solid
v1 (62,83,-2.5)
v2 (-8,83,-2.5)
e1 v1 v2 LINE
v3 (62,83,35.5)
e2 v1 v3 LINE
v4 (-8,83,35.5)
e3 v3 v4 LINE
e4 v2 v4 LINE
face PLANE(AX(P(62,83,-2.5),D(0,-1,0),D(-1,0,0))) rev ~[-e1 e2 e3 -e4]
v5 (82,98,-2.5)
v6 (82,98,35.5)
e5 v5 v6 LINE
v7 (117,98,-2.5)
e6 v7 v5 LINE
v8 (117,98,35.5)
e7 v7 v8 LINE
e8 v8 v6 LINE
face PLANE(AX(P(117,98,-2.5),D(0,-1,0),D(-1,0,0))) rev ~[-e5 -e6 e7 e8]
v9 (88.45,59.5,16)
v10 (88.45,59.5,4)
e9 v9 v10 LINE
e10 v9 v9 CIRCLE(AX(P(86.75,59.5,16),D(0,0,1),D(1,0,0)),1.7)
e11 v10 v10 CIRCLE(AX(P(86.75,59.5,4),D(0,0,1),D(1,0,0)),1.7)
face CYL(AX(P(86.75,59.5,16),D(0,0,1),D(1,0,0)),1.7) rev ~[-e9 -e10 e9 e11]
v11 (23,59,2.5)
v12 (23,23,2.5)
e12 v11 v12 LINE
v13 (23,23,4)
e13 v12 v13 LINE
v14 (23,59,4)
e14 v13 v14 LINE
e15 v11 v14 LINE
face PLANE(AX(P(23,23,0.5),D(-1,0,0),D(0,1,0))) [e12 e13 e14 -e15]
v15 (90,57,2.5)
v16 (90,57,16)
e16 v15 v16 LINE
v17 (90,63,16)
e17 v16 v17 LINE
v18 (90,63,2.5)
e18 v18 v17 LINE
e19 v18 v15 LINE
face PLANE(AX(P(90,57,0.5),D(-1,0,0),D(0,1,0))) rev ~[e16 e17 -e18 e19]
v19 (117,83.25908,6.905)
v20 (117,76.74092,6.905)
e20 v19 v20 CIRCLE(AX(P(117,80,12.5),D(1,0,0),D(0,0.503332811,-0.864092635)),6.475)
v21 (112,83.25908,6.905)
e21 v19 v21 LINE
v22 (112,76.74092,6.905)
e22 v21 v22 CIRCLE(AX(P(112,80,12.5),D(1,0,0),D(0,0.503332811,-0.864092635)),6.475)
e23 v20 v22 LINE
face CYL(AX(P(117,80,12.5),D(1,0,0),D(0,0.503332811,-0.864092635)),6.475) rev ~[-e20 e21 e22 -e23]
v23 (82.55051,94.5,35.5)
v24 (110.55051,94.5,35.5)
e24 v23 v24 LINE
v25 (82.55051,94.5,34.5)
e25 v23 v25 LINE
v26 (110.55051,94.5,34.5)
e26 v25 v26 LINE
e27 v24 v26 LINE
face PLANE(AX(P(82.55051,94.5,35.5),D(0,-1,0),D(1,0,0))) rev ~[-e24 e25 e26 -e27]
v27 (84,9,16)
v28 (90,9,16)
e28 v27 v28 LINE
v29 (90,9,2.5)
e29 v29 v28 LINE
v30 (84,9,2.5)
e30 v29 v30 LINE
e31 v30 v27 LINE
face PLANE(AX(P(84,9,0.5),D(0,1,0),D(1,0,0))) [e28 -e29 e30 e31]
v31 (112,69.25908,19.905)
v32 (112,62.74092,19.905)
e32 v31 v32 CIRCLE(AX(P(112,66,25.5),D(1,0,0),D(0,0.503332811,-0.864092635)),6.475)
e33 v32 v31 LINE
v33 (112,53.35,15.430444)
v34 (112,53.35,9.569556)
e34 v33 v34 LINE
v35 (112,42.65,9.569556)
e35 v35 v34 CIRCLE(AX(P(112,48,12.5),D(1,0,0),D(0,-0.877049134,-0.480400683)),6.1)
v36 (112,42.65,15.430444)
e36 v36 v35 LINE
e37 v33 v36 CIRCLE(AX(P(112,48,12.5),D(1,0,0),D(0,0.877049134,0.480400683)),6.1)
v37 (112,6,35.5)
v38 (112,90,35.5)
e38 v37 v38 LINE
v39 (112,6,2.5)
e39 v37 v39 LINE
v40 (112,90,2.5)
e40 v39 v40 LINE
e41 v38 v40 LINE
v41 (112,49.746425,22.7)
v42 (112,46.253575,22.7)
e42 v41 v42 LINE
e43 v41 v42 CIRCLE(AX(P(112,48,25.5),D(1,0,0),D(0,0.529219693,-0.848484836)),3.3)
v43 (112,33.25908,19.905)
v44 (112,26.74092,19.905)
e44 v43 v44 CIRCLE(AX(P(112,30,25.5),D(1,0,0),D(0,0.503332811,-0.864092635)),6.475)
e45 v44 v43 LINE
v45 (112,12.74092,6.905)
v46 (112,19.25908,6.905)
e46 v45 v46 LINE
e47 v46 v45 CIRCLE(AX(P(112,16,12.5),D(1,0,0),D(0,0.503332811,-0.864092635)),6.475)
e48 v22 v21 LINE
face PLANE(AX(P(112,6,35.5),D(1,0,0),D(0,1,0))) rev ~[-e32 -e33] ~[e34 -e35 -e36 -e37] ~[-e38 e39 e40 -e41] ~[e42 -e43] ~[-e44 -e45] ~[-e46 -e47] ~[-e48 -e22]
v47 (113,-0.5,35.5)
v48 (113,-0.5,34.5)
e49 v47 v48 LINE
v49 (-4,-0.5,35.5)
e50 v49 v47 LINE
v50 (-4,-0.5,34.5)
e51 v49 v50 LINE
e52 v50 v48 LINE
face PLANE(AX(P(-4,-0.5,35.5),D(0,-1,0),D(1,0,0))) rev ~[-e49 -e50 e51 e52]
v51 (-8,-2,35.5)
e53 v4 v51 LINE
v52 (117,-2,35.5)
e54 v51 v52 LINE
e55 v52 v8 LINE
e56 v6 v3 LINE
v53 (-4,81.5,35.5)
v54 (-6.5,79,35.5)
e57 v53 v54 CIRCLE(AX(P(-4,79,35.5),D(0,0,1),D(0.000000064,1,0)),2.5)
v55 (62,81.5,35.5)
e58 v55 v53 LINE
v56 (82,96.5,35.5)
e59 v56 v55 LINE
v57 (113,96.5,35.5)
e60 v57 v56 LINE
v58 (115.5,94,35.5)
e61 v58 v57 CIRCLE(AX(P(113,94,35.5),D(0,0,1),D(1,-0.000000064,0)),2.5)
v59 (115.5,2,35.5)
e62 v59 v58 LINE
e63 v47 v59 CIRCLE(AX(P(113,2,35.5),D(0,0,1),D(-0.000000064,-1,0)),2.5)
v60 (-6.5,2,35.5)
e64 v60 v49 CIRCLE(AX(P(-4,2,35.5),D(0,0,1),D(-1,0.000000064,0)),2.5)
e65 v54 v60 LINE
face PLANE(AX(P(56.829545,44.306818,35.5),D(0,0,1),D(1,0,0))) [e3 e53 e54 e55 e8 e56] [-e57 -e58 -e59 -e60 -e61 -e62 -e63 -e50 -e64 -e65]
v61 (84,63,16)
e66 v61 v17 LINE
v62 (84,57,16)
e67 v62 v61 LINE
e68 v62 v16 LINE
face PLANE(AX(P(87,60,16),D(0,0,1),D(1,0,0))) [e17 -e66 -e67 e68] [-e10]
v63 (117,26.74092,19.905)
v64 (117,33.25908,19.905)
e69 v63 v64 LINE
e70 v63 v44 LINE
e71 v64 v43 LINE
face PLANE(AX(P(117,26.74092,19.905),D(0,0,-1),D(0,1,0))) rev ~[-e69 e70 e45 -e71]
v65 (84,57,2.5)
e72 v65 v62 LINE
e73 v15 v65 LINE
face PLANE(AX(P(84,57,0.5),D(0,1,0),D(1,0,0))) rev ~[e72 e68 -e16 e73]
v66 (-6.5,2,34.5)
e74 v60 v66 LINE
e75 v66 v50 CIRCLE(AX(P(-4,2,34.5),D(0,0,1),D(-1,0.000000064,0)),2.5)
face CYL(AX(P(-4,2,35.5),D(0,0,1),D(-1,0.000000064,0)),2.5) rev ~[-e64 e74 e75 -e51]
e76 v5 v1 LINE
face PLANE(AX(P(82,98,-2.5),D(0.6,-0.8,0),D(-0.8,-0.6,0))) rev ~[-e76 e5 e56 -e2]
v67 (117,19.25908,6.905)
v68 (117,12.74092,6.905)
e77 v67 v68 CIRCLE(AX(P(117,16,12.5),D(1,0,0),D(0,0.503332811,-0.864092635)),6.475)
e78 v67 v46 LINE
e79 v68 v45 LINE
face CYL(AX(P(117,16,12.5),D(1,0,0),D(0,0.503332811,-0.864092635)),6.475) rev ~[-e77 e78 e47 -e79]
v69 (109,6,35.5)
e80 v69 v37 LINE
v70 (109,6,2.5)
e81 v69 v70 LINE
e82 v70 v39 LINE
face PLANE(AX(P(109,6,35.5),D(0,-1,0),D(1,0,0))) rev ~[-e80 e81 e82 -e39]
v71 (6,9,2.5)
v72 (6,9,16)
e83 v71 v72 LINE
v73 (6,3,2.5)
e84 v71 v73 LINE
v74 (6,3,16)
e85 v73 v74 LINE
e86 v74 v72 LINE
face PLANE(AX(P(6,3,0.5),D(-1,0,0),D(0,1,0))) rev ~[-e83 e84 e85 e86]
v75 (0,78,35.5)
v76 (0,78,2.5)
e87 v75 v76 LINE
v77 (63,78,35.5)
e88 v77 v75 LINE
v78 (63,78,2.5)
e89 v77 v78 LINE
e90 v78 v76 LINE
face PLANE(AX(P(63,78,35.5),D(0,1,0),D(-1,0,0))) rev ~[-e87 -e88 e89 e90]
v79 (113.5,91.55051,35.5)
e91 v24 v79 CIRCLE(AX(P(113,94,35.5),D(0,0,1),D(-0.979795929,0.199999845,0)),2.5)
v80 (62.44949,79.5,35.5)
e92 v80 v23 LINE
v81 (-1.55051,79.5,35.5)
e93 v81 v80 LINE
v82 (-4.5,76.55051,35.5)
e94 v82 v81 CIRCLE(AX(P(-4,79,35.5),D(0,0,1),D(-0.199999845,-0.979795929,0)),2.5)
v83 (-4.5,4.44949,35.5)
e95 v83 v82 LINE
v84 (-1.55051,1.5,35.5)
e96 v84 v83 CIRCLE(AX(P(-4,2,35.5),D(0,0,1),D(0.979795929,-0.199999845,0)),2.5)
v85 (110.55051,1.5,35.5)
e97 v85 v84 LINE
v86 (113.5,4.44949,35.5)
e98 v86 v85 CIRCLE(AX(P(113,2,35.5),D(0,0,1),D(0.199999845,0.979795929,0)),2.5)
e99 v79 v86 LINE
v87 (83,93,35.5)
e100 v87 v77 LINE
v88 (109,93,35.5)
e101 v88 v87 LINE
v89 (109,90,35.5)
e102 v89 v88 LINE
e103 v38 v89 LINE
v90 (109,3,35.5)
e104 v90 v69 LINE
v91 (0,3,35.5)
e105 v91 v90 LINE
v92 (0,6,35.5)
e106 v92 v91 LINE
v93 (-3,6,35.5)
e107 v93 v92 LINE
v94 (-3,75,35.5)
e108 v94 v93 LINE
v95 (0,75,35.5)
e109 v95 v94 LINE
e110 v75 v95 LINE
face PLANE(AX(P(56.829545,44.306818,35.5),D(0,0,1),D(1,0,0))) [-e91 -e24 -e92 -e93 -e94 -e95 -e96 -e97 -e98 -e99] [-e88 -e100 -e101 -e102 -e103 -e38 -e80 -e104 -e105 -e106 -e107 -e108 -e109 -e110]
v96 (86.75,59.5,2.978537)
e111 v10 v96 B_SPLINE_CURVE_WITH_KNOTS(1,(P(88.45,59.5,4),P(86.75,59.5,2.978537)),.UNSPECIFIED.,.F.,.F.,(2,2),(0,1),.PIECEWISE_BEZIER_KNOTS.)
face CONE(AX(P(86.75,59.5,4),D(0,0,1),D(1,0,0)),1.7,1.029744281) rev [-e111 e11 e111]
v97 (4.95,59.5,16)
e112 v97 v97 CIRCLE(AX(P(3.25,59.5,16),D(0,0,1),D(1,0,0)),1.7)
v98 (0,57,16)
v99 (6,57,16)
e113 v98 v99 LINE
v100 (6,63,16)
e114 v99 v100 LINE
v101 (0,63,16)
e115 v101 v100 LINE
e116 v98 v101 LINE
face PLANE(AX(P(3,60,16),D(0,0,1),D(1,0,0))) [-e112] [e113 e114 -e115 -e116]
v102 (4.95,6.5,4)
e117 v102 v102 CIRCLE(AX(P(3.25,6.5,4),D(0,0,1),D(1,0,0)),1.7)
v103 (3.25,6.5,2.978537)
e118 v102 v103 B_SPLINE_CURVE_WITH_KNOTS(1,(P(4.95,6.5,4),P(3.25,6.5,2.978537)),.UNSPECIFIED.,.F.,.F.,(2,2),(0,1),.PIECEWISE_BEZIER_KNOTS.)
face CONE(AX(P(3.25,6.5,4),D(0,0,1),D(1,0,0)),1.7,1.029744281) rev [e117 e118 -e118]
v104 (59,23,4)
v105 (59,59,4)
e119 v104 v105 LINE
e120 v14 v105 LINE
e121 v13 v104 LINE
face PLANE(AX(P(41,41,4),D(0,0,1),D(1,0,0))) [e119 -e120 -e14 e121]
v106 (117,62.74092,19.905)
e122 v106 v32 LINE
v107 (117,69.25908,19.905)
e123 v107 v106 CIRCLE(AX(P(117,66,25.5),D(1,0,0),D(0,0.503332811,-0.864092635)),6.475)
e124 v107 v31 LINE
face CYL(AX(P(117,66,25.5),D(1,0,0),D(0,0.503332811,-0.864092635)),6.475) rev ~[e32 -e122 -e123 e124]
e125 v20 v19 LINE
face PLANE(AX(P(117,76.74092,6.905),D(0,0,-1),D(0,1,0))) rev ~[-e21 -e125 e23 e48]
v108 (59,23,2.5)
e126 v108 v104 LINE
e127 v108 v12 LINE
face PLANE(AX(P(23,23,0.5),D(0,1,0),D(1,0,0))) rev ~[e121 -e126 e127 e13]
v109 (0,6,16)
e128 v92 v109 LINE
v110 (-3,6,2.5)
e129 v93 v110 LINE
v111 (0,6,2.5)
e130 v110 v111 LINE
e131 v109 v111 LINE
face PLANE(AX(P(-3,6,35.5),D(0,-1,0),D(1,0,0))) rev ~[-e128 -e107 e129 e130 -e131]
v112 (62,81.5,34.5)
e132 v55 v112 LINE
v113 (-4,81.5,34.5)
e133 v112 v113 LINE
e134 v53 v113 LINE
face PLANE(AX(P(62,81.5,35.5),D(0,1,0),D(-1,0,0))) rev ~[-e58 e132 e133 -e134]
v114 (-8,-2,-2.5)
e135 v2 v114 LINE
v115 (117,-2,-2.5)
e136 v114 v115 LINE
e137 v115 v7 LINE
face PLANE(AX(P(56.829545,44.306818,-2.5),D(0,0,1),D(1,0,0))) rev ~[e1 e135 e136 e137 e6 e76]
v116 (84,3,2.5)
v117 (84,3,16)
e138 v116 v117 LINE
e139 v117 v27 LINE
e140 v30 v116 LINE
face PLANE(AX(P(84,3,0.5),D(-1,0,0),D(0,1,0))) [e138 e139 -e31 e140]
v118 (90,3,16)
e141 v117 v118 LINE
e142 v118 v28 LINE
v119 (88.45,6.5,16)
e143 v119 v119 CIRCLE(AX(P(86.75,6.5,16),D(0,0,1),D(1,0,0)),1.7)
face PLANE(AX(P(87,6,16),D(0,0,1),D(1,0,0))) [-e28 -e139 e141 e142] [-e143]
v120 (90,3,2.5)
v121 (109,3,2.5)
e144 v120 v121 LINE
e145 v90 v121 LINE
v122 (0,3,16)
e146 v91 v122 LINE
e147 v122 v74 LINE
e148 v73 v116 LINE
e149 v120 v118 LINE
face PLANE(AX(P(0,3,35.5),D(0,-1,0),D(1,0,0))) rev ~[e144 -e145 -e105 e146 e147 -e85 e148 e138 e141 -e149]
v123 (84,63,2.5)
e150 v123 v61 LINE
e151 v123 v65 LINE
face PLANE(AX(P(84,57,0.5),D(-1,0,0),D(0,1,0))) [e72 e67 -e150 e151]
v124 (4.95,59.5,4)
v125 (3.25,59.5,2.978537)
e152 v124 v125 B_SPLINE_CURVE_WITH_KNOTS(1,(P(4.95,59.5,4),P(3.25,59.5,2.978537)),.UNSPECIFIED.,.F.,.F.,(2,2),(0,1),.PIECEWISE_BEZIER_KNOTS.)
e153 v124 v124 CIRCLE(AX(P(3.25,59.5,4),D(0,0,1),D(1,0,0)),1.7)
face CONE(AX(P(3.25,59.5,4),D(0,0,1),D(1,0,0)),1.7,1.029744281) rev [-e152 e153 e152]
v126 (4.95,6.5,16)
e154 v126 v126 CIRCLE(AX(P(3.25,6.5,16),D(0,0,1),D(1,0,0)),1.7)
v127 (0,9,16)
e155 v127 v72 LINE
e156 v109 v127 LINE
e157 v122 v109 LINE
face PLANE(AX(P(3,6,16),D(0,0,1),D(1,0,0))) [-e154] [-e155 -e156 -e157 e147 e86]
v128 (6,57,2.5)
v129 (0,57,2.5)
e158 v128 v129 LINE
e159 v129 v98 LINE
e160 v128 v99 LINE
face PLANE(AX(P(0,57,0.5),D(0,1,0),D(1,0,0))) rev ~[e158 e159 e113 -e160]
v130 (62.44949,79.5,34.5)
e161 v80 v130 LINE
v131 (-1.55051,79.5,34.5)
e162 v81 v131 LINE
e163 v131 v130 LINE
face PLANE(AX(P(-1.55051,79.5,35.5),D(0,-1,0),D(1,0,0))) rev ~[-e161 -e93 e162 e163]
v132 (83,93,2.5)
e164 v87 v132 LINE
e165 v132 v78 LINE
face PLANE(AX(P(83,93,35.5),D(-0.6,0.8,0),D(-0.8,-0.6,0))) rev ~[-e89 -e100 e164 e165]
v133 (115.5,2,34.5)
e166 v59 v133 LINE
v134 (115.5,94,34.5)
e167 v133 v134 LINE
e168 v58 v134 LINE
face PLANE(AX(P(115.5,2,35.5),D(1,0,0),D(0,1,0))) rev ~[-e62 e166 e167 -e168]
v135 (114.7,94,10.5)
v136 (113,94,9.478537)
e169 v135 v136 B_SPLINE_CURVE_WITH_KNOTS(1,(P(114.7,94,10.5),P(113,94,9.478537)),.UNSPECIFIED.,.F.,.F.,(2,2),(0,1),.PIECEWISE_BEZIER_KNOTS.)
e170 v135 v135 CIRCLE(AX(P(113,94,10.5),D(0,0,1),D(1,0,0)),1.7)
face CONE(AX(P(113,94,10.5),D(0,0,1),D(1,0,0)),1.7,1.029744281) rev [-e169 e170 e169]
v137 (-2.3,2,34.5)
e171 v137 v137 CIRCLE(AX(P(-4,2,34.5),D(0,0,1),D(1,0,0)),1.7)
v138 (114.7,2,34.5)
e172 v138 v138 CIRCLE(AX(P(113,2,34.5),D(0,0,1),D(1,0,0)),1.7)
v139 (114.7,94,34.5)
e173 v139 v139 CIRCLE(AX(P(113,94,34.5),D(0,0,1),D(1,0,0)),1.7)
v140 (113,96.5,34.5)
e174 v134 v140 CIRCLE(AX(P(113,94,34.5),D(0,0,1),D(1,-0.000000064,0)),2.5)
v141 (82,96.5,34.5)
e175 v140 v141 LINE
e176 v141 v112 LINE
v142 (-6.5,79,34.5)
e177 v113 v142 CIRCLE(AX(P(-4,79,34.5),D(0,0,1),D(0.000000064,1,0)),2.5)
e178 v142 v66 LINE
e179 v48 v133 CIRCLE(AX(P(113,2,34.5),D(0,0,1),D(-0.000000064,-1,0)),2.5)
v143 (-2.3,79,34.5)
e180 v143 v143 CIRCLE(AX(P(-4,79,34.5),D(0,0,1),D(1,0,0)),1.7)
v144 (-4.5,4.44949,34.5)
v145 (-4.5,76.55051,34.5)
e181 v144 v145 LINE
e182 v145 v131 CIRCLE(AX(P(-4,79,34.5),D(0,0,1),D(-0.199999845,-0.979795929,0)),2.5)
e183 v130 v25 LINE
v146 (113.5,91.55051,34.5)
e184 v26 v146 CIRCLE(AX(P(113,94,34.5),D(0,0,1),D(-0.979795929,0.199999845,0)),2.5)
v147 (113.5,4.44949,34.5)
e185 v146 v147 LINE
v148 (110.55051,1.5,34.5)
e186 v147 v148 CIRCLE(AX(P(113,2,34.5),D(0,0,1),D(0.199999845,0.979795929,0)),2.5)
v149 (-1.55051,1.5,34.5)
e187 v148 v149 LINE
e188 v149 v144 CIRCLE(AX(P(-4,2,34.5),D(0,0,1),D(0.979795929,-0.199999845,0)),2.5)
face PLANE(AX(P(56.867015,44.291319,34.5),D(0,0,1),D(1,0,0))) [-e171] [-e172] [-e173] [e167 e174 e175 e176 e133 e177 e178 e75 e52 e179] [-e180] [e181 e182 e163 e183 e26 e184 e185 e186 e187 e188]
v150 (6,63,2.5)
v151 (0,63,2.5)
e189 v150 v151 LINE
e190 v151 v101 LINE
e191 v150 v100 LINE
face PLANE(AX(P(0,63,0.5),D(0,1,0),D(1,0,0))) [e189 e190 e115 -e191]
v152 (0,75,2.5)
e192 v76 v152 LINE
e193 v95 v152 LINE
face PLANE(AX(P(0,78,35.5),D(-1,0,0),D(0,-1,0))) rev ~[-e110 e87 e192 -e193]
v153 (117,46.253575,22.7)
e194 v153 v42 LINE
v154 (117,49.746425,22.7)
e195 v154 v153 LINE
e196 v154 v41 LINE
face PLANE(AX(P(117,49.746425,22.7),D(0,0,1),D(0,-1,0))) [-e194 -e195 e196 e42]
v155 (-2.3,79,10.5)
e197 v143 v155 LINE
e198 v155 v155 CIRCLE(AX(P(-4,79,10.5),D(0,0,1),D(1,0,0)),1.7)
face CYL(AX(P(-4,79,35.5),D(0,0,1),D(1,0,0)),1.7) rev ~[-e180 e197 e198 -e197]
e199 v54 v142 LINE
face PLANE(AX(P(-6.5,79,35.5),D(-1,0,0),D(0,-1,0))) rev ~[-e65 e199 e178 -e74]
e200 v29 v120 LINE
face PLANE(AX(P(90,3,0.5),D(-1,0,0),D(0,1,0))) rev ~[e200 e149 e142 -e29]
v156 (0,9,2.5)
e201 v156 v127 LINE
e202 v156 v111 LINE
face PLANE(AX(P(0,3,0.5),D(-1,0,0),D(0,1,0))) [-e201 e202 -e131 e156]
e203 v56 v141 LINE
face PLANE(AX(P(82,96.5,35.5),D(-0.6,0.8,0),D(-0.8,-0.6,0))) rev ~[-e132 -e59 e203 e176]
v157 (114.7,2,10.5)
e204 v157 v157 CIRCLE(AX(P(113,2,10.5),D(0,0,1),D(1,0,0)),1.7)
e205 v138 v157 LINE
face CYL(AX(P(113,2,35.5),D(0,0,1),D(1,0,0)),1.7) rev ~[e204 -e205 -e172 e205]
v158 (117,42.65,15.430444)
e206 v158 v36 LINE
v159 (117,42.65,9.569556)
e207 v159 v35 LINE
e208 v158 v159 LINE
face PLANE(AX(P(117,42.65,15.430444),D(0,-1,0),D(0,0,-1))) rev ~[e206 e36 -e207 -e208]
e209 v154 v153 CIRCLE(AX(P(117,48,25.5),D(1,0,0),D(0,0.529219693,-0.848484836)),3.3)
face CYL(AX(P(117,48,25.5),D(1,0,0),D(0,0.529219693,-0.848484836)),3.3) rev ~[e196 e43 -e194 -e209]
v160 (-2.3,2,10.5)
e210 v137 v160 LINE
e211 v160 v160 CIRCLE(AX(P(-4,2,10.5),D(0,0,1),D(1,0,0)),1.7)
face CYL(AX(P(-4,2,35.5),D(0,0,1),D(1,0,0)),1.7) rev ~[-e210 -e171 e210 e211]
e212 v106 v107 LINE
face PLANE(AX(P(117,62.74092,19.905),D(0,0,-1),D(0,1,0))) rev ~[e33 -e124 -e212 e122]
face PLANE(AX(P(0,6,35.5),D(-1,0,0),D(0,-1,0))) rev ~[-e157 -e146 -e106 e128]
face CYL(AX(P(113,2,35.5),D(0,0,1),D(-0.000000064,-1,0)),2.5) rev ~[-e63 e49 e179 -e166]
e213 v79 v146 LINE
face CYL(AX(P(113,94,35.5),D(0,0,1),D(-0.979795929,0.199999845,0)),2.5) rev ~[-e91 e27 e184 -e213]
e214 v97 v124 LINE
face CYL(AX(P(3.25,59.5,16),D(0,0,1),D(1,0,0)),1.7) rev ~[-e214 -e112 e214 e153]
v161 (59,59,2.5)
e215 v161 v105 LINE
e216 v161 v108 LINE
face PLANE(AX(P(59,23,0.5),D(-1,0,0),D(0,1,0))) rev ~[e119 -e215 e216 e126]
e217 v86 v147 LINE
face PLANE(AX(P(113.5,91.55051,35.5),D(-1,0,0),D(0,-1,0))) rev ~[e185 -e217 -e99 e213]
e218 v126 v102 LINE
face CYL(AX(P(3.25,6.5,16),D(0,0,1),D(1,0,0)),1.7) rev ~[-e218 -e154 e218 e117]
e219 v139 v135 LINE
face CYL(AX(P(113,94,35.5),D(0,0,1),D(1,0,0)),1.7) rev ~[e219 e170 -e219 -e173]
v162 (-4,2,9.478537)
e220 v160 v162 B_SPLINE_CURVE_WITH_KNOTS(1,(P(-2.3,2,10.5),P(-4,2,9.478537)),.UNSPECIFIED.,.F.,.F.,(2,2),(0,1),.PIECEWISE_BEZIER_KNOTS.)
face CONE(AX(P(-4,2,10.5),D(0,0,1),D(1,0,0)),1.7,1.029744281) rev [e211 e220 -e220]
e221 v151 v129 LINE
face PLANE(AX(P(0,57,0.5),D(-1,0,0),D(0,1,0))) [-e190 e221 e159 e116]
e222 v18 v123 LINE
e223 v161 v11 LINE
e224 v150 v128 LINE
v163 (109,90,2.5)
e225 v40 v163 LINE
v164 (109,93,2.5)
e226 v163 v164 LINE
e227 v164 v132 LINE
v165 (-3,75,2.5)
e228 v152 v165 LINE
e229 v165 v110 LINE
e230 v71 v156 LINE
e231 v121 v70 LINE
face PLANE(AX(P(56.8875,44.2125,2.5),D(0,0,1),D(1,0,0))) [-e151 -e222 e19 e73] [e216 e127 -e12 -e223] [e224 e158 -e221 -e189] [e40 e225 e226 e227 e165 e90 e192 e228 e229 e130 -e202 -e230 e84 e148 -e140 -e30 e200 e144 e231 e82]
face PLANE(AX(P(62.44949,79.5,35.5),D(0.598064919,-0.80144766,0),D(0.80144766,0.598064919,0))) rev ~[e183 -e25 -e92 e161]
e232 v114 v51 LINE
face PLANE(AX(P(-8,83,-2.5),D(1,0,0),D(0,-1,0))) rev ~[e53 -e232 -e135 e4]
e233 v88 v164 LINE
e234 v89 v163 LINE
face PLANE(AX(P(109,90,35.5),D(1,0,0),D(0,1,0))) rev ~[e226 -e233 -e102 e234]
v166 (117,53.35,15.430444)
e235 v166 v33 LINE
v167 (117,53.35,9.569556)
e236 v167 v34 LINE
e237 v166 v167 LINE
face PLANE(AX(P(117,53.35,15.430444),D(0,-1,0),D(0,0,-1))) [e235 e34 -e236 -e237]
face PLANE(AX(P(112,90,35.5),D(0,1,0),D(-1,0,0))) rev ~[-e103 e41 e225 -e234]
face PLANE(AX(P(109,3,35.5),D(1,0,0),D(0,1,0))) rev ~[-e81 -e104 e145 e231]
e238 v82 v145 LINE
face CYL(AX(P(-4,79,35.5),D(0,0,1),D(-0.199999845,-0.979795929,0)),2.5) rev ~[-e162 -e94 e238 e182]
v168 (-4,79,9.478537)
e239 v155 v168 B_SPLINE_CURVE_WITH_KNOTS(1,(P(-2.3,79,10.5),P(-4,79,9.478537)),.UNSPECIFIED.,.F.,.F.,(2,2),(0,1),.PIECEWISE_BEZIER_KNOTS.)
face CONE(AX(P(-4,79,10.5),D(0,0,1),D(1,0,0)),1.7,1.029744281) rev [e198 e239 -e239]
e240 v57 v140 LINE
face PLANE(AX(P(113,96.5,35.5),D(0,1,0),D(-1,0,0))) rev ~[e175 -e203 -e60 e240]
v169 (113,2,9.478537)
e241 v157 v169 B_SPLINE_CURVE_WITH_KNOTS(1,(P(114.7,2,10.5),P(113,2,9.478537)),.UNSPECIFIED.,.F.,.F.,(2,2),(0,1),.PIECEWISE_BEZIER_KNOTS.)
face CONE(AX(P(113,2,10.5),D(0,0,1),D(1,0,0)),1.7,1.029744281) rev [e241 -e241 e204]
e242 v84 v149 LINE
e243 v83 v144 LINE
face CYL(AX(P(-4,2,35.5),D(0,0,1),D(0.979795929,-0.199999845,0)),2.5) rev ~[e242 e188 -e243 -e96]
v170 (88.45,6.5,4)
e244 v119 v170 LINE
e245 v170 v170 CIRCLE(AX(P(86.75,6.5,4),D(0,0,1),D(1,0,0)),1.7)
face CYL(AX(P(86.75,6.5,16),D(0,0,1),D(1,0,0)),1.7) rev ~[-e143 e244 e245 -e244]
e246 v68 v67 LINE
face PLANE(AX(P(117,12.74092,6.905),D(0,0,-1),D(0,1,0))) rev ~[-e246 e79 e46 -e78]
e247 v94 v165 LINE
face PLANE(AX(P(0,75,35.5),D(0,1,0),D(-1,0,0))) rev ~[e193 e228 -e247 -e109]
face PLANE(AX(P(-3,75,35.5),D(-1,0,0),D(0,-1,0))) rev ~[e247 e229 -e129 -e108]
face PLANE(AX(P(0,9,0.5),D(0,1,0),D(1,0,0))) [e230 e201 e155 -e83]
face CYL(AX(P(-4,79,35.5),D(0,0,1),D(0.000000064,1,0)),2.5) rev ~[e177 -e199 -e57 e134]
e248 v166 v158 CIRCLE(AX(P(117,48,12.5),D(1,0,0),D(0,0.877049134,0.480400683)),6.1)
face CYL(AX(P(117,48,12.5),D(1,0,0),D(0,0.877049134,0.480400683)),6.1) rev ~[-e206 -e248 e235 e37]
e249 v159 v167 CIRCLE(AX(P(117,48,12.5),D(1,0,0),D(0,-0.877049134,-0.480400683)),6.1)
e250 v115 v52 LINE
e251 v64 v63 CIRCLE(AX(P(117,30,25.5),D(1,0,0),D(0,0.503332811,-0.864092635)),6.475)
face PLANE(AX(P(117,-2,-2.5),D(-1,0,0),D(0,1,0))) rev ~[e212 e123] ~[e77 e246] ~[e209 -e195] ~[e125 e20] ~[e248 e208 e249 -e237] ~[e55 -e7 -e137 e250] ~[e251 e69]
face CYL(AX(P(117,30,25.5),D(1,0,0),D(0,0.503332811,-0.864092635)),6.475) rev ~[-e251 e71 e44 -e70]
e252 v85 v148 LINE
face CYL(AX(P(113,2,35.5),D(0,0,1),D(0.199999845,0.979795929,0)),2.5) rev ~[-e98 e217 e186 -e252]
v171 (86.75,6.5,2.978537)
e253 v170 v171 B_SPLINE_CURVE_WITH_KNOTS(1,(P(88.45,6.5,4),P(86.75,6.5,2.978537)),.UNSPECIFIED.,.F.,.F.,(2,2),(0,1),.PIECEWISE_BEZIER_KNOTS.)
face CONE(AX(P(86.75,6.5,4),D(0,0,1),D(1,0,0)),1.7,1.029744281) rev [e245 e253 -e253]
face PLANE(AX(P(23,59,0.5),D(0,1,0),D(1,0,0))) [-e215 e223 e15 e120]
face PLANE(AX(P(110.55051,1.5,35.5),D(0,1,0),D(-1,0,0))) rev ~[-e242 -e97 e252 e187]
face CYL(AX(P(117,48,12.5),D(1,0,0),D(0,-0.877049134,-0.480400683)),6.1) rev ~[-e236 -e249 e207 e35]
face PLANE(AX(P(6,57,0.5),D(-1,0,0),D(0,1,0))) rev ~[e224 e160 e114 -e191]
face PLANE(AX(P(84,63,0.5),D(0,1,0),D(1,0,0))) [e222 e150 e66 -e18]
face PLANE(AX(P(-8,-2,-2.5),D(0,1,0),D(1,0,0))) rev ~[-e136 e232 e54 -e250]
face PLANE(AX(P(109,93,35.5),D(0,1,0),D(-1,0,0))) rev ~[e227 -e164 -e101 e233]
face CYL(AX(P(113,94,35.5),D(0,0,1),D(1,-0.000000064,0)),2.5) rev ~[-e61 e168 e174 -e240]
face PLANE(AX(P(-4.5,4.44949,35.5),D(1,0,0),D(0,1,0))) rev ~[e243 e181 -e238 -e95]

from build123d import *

# Parameters (mm, degrees)
PAD_DEPTH       = 38
POCKET_DEPTH    = 33
SKETCH015_W     = 6
SKETCH015_H     = 6
PAD006_DEPTH    = 15.5
SKETCH018_W     = 36
SKETCH018_H     = 36
PAD008_DEPTH    = 3.5
POCKET008_DEPTH = 8
SKETCH025_R     = 1.7
HOLE_DEPTH      = 12
HOLE_TIPS_R     = 1.7
SKETCH026_R     = 1.7
HOLE003_DEPTH   = 25
HOLE003_TIPS_R  = 1.7
POCKET009_DEPTH = 1


with BuildPart() as part:
    # Sketch → Pad (new body)
    with BuildSketch(Plane.XY):
        Polygon((-8, -2), (117, -2), (117, 98), (82, 98), (62, 83), (-8, 83), align=None)
    extrude(amount=PAD_DEPTH)

    # Sketch001 (on Face8 of Pad) → Pocket (cut)
    with BuildSketch(Plane.XY.offset(38)):
        Polygon((-3, 75), (-3, 6), (0, 6), (0, 3), (109, 3), (109, 6), (112, 6), (112, 90), (109, 90), (109, 93), (83, 93), (63, 78), (0, 78), (0, 75), align=None)
    extrude(amount=-POCKET_DEPTH, mode=Mode.SUBTRACT)

    # Sketch015 → Pad006 (join)
    with BuildSketch(Plane.XY.offset(3)):
        with Locations((3, 60)):
            Rectangle(SKETCH015_W, SKETCH015_H)
        with Locations((87, 60)):
            Rectangle(SKETCH015_W, SKETCH015_H)
        with Locations((3, 6)):
            Rectangle(SKETCH015_W, SKETCH015_H)
        with Locations((87, 6)):
            Rectangle(SKETCH015_W, SKETCH015_H)
    extrude(amount=PAD006_DEPTH)

    # Sketch018 → Pad008 (join)
    with BuildSketch(Plane.XY.offset(3)):
        with Locations((41, 41)):
            Rectangle(SKETCH018_W, SKETCH018_H)
    extrude(amount=PAD008_DEPTH)

    # Sketch014 → Pocket008 (cut)
    with BuildSketch(Plane.YZ.offset(117)):
        with BuildLine():
            ThreePointArc((19.25908, 9.405), (16, 21.475), (12.74092, 9.405))
            Line((12.74092, 9.405), (19.25908, 9.405))
        make_face()
        with BuildLine():
            ThreePointArc((83.25908, 9.405), (80, 21.475), (76.74092, 9.405))
            Line((76.74092, 9.405), (83.25908, 9.405))
        make_face()
        with BuildLine():
            ThreePointArc((69.25908, 22.405), (66, 34.475), (62.74092, 22.405))
            Line((62.74092, 22.405), (69.25908, 22.405))
        make_face()
        with BuildLine():
            ThreePointArc((33.25908, 22.405), (30, 34.475), (26.74092, 22.405))
            Line((26.74092, 22.405), (33.25908, 22.405))
        make_face()
        with BuildLine():
            ThreePointArc((49.746425, 25.2), (48, 31.3), (46.253575, 25.2))
            Line((49.746425, 25.2), (46.253575, 25.2))
        make_face()
        with BuildLine():
            ThreePointArc((42.65, 12.069556), (48, 8.9), (53.35, 12.069556))
            Line((53.35, 17.930444), (53.35, 12.069556))
            ThreePointArc((53.35, 17.930444), (48, 21.1), (42.65, 17.930444))
            Line((42.65, 17.930444), (42.65, 12.069556))
        make_face()
    extrude(amount=-POCKET008_DEPTH, mode=Mode.SUBTRACT)

    # Sketch025 (on Face41 of Pocket008) → Hole (cut)
    with BuildSketch(Plane.XY.offset(18.5)):
        with Locations((3.25, 59.5)):
            Circle(SKETCH025_R)
        with Locations((3.25, 6.5)):
            Circle(SKETCH025_R)
        with Locations((86.75, 6.5)):
            Circle(SKETCH025_R)
        with Locations((86.75, 59.5)):
            Circle(SKETCH025_R)
    extrude(amount=-HOLE_DEPTH, mode=Mode.SUBTRACT)

    # Hole tips → Hole tip 1 section 0
    with BuildSketch(Plane.XY.offset(6.5), mode=Mode.PRIVATE) as hole_tip_1_s0:
        with Locations((3.25, 59.5)):
            Circle(HOLE_TIPS_R)
    loft([hole_tip_1_s0.sketch, Vertex(3.25, 59.5, 5.478537)], mode=Mode.SUBTRACT)

    # Hole tips → Hole tip 2 section 0
    with BuildSketch(Plane.XY.offset(6.5), mode=Mode.PRIVATE) as hole_tip_2_s0:
        with Locations((3.25, 6.5)):
            Circle(HOLE_TIPS_R)
    loft([hole_tip_2_s0.sketch, Vertex(3.25, 6.5, 5.478537)], mode=Mode.SUBTRACT)

    # Hole tips → Hole tip 3 section 0
    with BuildSketch(Plane.XY.offset(6.5), mode=Mode.PRIVATE) as hole_tip_3_s0:
        with Locations((86.75, 6.5)):
            Circle(HOLE_TIPS_R)
    loft([hole_tip_3_s0.sketch, Vertex(86.75, 6.5, 5.478537)], mode=Mode.SUBTRACT)

    # Hole tips → Hole tip 4 section 0
    with BuildSketch(Plane.XY.offset(6.5), mode=Mode.PRIVATE) as hole_tip_4_s0:
        with Locations((86.75, 59.5)):
            Circle(HOLE_TIPS_R)
    loft([hole_tip_4_s0.sketch, Vertex(86.75, 59.5, 5.478537)], mode=Mode.SUBTRACT)

    # Sketch026 (on Face5 of Hole) → Hole003 (cut)
    with BuildSketch(Plane.XY.offset(38)):
        with Locations((-4, 79)):
            Circle(SKETCH026_R)
        with Locations((113, 94)):
            Circle(SKETCH026_R)
        with Locations((113, 2)):
            Circle(SKETCH026_R)
        with Locations((-4, 2)):
            Circle(SKETCH026_R)
    extrude(amount=-HOLE003_DEPTH, mode=Mode.SUBTRACT)

    # Hole003 tips → Hole003 tip 1 section 0
    with BuildSketch(Plane.XY.offset(13), mode=Mode.PRIVATE) as hole003_tip_1_s0:
        with Locations((-4, 79)):
            Circle(HOLE003_TIPS_R)
    loft([hole003_tip_1_s0.sketch, Vertex(-4, 79, 11.978537)], mode=Mode.SUBTRACT)

    # Hole003 tips → Hole003 tip 2 section 0
    with BuildSketch(Plane.XY.offset(13), mode=Mode.PRIVATE) as hole003_tip_2_s0:
        with Locations((113, 94)):
            Circle(HOLE003_TIPS_R)
    loft([hole003_tip_2_s0.sketch, Vertex(113, 94, 11.978537)], mode=Mode.SUBTRACT)

    # Hole003 tips → Hole003 tip 3 section 0
    with BuildSketch(Plane.XY.offset(13), mode=Mode.PRIVATE) as hole003_tip_3_s0:
        with Locations((113, 2)):
            Circle(HOLE003_TIPS_R)
    loft([hole003_tip_3_s0.sketch, Vertex(113, 2, 11.978537)], mode=Mode.SUBTRACT)

    # Hole003 tips → Hole003 tip 4 section 0
    with BuildSketch(Plane.XY.offset(13), mode=Mode.PRIVATE) as hole003_tip_4_s0:
        with Locations((-4, 2)):
            Circle(HOLE003_TIPS_R)
    loft([hole003_tip_4_s0.sketch, Vertex(-4, 2, 11.978537)], mode=Mode.SUBTRACT)

    # Sketch027 (on Face5 of Hole003) → Pocket009 (cut)
    with BuildSketch(Plane.XY.offset(38)):
        with BuildLine():
            ThreePointArc((-4, 81.5), (-5.767767, 80.767767), (-6.5, 79))
            Line((-6.5, 79), (-6.5, 2))
            ThreePointArc((-6.5, 2), (-5.767767, 0.232233), (-4, -0.5))
            Line((-4, -0.5), (113, -0.5))
            ThreePointArc((113, -0.5), (114.767767, 0.232233), (115.5, 2))
            Line((115.5, 2), (115.5, 94))
            ThreePointArc((115.5, 94), (114.767767, 95.767767), (113, 96.5))
            Line((113, 96.5), (82, 96.5))
            Line((82, 96.5), (62, 81.5))
            Line((62, 81.5), (-4, 81.5))
        make_face()
        with BuildLine():
            ThreePointArc((113.5, 4.44949), (111.232233, 3.767767), (110.55051, 1.5))
            Line((110.55051, 1.5), (-1.55051, 1.5))
            ThreePointArc((-1.55051, 1.5), (-2.232233, 3.767767), (-4.5, 4.44949))
            Line((-4.5, 4.44949), (-4.5, 76.55051))
            ThreePointArc((-4.5, 76.55051), (-2.232233, 77.232233), (-1.55051, 79.5))
            Line((-1.55051, 79.5), (62.44949, 79.5))
            Line((62.44949, 79.5), (82.55051, 94.5))
            Line((82.55051, 94.5), (110.55051, 94.5))
            ThreePointArc((110.55051, 94.5), (111.232233, 92.232233), (113.5, 91.55051))
            Line((113.5, 91.55051), (113.5, 4.44949))
        make_face(mode=Mode.SUBTRACT)
    extrude(amount=-POCKET009_DEPTH, mode=Mode.SUBTRACT)


with BuildPart() as part_1:
    # Body placement: moved
    add(part.part.moved(Location((0, 0, -2.5))))


solid = part_1.part
